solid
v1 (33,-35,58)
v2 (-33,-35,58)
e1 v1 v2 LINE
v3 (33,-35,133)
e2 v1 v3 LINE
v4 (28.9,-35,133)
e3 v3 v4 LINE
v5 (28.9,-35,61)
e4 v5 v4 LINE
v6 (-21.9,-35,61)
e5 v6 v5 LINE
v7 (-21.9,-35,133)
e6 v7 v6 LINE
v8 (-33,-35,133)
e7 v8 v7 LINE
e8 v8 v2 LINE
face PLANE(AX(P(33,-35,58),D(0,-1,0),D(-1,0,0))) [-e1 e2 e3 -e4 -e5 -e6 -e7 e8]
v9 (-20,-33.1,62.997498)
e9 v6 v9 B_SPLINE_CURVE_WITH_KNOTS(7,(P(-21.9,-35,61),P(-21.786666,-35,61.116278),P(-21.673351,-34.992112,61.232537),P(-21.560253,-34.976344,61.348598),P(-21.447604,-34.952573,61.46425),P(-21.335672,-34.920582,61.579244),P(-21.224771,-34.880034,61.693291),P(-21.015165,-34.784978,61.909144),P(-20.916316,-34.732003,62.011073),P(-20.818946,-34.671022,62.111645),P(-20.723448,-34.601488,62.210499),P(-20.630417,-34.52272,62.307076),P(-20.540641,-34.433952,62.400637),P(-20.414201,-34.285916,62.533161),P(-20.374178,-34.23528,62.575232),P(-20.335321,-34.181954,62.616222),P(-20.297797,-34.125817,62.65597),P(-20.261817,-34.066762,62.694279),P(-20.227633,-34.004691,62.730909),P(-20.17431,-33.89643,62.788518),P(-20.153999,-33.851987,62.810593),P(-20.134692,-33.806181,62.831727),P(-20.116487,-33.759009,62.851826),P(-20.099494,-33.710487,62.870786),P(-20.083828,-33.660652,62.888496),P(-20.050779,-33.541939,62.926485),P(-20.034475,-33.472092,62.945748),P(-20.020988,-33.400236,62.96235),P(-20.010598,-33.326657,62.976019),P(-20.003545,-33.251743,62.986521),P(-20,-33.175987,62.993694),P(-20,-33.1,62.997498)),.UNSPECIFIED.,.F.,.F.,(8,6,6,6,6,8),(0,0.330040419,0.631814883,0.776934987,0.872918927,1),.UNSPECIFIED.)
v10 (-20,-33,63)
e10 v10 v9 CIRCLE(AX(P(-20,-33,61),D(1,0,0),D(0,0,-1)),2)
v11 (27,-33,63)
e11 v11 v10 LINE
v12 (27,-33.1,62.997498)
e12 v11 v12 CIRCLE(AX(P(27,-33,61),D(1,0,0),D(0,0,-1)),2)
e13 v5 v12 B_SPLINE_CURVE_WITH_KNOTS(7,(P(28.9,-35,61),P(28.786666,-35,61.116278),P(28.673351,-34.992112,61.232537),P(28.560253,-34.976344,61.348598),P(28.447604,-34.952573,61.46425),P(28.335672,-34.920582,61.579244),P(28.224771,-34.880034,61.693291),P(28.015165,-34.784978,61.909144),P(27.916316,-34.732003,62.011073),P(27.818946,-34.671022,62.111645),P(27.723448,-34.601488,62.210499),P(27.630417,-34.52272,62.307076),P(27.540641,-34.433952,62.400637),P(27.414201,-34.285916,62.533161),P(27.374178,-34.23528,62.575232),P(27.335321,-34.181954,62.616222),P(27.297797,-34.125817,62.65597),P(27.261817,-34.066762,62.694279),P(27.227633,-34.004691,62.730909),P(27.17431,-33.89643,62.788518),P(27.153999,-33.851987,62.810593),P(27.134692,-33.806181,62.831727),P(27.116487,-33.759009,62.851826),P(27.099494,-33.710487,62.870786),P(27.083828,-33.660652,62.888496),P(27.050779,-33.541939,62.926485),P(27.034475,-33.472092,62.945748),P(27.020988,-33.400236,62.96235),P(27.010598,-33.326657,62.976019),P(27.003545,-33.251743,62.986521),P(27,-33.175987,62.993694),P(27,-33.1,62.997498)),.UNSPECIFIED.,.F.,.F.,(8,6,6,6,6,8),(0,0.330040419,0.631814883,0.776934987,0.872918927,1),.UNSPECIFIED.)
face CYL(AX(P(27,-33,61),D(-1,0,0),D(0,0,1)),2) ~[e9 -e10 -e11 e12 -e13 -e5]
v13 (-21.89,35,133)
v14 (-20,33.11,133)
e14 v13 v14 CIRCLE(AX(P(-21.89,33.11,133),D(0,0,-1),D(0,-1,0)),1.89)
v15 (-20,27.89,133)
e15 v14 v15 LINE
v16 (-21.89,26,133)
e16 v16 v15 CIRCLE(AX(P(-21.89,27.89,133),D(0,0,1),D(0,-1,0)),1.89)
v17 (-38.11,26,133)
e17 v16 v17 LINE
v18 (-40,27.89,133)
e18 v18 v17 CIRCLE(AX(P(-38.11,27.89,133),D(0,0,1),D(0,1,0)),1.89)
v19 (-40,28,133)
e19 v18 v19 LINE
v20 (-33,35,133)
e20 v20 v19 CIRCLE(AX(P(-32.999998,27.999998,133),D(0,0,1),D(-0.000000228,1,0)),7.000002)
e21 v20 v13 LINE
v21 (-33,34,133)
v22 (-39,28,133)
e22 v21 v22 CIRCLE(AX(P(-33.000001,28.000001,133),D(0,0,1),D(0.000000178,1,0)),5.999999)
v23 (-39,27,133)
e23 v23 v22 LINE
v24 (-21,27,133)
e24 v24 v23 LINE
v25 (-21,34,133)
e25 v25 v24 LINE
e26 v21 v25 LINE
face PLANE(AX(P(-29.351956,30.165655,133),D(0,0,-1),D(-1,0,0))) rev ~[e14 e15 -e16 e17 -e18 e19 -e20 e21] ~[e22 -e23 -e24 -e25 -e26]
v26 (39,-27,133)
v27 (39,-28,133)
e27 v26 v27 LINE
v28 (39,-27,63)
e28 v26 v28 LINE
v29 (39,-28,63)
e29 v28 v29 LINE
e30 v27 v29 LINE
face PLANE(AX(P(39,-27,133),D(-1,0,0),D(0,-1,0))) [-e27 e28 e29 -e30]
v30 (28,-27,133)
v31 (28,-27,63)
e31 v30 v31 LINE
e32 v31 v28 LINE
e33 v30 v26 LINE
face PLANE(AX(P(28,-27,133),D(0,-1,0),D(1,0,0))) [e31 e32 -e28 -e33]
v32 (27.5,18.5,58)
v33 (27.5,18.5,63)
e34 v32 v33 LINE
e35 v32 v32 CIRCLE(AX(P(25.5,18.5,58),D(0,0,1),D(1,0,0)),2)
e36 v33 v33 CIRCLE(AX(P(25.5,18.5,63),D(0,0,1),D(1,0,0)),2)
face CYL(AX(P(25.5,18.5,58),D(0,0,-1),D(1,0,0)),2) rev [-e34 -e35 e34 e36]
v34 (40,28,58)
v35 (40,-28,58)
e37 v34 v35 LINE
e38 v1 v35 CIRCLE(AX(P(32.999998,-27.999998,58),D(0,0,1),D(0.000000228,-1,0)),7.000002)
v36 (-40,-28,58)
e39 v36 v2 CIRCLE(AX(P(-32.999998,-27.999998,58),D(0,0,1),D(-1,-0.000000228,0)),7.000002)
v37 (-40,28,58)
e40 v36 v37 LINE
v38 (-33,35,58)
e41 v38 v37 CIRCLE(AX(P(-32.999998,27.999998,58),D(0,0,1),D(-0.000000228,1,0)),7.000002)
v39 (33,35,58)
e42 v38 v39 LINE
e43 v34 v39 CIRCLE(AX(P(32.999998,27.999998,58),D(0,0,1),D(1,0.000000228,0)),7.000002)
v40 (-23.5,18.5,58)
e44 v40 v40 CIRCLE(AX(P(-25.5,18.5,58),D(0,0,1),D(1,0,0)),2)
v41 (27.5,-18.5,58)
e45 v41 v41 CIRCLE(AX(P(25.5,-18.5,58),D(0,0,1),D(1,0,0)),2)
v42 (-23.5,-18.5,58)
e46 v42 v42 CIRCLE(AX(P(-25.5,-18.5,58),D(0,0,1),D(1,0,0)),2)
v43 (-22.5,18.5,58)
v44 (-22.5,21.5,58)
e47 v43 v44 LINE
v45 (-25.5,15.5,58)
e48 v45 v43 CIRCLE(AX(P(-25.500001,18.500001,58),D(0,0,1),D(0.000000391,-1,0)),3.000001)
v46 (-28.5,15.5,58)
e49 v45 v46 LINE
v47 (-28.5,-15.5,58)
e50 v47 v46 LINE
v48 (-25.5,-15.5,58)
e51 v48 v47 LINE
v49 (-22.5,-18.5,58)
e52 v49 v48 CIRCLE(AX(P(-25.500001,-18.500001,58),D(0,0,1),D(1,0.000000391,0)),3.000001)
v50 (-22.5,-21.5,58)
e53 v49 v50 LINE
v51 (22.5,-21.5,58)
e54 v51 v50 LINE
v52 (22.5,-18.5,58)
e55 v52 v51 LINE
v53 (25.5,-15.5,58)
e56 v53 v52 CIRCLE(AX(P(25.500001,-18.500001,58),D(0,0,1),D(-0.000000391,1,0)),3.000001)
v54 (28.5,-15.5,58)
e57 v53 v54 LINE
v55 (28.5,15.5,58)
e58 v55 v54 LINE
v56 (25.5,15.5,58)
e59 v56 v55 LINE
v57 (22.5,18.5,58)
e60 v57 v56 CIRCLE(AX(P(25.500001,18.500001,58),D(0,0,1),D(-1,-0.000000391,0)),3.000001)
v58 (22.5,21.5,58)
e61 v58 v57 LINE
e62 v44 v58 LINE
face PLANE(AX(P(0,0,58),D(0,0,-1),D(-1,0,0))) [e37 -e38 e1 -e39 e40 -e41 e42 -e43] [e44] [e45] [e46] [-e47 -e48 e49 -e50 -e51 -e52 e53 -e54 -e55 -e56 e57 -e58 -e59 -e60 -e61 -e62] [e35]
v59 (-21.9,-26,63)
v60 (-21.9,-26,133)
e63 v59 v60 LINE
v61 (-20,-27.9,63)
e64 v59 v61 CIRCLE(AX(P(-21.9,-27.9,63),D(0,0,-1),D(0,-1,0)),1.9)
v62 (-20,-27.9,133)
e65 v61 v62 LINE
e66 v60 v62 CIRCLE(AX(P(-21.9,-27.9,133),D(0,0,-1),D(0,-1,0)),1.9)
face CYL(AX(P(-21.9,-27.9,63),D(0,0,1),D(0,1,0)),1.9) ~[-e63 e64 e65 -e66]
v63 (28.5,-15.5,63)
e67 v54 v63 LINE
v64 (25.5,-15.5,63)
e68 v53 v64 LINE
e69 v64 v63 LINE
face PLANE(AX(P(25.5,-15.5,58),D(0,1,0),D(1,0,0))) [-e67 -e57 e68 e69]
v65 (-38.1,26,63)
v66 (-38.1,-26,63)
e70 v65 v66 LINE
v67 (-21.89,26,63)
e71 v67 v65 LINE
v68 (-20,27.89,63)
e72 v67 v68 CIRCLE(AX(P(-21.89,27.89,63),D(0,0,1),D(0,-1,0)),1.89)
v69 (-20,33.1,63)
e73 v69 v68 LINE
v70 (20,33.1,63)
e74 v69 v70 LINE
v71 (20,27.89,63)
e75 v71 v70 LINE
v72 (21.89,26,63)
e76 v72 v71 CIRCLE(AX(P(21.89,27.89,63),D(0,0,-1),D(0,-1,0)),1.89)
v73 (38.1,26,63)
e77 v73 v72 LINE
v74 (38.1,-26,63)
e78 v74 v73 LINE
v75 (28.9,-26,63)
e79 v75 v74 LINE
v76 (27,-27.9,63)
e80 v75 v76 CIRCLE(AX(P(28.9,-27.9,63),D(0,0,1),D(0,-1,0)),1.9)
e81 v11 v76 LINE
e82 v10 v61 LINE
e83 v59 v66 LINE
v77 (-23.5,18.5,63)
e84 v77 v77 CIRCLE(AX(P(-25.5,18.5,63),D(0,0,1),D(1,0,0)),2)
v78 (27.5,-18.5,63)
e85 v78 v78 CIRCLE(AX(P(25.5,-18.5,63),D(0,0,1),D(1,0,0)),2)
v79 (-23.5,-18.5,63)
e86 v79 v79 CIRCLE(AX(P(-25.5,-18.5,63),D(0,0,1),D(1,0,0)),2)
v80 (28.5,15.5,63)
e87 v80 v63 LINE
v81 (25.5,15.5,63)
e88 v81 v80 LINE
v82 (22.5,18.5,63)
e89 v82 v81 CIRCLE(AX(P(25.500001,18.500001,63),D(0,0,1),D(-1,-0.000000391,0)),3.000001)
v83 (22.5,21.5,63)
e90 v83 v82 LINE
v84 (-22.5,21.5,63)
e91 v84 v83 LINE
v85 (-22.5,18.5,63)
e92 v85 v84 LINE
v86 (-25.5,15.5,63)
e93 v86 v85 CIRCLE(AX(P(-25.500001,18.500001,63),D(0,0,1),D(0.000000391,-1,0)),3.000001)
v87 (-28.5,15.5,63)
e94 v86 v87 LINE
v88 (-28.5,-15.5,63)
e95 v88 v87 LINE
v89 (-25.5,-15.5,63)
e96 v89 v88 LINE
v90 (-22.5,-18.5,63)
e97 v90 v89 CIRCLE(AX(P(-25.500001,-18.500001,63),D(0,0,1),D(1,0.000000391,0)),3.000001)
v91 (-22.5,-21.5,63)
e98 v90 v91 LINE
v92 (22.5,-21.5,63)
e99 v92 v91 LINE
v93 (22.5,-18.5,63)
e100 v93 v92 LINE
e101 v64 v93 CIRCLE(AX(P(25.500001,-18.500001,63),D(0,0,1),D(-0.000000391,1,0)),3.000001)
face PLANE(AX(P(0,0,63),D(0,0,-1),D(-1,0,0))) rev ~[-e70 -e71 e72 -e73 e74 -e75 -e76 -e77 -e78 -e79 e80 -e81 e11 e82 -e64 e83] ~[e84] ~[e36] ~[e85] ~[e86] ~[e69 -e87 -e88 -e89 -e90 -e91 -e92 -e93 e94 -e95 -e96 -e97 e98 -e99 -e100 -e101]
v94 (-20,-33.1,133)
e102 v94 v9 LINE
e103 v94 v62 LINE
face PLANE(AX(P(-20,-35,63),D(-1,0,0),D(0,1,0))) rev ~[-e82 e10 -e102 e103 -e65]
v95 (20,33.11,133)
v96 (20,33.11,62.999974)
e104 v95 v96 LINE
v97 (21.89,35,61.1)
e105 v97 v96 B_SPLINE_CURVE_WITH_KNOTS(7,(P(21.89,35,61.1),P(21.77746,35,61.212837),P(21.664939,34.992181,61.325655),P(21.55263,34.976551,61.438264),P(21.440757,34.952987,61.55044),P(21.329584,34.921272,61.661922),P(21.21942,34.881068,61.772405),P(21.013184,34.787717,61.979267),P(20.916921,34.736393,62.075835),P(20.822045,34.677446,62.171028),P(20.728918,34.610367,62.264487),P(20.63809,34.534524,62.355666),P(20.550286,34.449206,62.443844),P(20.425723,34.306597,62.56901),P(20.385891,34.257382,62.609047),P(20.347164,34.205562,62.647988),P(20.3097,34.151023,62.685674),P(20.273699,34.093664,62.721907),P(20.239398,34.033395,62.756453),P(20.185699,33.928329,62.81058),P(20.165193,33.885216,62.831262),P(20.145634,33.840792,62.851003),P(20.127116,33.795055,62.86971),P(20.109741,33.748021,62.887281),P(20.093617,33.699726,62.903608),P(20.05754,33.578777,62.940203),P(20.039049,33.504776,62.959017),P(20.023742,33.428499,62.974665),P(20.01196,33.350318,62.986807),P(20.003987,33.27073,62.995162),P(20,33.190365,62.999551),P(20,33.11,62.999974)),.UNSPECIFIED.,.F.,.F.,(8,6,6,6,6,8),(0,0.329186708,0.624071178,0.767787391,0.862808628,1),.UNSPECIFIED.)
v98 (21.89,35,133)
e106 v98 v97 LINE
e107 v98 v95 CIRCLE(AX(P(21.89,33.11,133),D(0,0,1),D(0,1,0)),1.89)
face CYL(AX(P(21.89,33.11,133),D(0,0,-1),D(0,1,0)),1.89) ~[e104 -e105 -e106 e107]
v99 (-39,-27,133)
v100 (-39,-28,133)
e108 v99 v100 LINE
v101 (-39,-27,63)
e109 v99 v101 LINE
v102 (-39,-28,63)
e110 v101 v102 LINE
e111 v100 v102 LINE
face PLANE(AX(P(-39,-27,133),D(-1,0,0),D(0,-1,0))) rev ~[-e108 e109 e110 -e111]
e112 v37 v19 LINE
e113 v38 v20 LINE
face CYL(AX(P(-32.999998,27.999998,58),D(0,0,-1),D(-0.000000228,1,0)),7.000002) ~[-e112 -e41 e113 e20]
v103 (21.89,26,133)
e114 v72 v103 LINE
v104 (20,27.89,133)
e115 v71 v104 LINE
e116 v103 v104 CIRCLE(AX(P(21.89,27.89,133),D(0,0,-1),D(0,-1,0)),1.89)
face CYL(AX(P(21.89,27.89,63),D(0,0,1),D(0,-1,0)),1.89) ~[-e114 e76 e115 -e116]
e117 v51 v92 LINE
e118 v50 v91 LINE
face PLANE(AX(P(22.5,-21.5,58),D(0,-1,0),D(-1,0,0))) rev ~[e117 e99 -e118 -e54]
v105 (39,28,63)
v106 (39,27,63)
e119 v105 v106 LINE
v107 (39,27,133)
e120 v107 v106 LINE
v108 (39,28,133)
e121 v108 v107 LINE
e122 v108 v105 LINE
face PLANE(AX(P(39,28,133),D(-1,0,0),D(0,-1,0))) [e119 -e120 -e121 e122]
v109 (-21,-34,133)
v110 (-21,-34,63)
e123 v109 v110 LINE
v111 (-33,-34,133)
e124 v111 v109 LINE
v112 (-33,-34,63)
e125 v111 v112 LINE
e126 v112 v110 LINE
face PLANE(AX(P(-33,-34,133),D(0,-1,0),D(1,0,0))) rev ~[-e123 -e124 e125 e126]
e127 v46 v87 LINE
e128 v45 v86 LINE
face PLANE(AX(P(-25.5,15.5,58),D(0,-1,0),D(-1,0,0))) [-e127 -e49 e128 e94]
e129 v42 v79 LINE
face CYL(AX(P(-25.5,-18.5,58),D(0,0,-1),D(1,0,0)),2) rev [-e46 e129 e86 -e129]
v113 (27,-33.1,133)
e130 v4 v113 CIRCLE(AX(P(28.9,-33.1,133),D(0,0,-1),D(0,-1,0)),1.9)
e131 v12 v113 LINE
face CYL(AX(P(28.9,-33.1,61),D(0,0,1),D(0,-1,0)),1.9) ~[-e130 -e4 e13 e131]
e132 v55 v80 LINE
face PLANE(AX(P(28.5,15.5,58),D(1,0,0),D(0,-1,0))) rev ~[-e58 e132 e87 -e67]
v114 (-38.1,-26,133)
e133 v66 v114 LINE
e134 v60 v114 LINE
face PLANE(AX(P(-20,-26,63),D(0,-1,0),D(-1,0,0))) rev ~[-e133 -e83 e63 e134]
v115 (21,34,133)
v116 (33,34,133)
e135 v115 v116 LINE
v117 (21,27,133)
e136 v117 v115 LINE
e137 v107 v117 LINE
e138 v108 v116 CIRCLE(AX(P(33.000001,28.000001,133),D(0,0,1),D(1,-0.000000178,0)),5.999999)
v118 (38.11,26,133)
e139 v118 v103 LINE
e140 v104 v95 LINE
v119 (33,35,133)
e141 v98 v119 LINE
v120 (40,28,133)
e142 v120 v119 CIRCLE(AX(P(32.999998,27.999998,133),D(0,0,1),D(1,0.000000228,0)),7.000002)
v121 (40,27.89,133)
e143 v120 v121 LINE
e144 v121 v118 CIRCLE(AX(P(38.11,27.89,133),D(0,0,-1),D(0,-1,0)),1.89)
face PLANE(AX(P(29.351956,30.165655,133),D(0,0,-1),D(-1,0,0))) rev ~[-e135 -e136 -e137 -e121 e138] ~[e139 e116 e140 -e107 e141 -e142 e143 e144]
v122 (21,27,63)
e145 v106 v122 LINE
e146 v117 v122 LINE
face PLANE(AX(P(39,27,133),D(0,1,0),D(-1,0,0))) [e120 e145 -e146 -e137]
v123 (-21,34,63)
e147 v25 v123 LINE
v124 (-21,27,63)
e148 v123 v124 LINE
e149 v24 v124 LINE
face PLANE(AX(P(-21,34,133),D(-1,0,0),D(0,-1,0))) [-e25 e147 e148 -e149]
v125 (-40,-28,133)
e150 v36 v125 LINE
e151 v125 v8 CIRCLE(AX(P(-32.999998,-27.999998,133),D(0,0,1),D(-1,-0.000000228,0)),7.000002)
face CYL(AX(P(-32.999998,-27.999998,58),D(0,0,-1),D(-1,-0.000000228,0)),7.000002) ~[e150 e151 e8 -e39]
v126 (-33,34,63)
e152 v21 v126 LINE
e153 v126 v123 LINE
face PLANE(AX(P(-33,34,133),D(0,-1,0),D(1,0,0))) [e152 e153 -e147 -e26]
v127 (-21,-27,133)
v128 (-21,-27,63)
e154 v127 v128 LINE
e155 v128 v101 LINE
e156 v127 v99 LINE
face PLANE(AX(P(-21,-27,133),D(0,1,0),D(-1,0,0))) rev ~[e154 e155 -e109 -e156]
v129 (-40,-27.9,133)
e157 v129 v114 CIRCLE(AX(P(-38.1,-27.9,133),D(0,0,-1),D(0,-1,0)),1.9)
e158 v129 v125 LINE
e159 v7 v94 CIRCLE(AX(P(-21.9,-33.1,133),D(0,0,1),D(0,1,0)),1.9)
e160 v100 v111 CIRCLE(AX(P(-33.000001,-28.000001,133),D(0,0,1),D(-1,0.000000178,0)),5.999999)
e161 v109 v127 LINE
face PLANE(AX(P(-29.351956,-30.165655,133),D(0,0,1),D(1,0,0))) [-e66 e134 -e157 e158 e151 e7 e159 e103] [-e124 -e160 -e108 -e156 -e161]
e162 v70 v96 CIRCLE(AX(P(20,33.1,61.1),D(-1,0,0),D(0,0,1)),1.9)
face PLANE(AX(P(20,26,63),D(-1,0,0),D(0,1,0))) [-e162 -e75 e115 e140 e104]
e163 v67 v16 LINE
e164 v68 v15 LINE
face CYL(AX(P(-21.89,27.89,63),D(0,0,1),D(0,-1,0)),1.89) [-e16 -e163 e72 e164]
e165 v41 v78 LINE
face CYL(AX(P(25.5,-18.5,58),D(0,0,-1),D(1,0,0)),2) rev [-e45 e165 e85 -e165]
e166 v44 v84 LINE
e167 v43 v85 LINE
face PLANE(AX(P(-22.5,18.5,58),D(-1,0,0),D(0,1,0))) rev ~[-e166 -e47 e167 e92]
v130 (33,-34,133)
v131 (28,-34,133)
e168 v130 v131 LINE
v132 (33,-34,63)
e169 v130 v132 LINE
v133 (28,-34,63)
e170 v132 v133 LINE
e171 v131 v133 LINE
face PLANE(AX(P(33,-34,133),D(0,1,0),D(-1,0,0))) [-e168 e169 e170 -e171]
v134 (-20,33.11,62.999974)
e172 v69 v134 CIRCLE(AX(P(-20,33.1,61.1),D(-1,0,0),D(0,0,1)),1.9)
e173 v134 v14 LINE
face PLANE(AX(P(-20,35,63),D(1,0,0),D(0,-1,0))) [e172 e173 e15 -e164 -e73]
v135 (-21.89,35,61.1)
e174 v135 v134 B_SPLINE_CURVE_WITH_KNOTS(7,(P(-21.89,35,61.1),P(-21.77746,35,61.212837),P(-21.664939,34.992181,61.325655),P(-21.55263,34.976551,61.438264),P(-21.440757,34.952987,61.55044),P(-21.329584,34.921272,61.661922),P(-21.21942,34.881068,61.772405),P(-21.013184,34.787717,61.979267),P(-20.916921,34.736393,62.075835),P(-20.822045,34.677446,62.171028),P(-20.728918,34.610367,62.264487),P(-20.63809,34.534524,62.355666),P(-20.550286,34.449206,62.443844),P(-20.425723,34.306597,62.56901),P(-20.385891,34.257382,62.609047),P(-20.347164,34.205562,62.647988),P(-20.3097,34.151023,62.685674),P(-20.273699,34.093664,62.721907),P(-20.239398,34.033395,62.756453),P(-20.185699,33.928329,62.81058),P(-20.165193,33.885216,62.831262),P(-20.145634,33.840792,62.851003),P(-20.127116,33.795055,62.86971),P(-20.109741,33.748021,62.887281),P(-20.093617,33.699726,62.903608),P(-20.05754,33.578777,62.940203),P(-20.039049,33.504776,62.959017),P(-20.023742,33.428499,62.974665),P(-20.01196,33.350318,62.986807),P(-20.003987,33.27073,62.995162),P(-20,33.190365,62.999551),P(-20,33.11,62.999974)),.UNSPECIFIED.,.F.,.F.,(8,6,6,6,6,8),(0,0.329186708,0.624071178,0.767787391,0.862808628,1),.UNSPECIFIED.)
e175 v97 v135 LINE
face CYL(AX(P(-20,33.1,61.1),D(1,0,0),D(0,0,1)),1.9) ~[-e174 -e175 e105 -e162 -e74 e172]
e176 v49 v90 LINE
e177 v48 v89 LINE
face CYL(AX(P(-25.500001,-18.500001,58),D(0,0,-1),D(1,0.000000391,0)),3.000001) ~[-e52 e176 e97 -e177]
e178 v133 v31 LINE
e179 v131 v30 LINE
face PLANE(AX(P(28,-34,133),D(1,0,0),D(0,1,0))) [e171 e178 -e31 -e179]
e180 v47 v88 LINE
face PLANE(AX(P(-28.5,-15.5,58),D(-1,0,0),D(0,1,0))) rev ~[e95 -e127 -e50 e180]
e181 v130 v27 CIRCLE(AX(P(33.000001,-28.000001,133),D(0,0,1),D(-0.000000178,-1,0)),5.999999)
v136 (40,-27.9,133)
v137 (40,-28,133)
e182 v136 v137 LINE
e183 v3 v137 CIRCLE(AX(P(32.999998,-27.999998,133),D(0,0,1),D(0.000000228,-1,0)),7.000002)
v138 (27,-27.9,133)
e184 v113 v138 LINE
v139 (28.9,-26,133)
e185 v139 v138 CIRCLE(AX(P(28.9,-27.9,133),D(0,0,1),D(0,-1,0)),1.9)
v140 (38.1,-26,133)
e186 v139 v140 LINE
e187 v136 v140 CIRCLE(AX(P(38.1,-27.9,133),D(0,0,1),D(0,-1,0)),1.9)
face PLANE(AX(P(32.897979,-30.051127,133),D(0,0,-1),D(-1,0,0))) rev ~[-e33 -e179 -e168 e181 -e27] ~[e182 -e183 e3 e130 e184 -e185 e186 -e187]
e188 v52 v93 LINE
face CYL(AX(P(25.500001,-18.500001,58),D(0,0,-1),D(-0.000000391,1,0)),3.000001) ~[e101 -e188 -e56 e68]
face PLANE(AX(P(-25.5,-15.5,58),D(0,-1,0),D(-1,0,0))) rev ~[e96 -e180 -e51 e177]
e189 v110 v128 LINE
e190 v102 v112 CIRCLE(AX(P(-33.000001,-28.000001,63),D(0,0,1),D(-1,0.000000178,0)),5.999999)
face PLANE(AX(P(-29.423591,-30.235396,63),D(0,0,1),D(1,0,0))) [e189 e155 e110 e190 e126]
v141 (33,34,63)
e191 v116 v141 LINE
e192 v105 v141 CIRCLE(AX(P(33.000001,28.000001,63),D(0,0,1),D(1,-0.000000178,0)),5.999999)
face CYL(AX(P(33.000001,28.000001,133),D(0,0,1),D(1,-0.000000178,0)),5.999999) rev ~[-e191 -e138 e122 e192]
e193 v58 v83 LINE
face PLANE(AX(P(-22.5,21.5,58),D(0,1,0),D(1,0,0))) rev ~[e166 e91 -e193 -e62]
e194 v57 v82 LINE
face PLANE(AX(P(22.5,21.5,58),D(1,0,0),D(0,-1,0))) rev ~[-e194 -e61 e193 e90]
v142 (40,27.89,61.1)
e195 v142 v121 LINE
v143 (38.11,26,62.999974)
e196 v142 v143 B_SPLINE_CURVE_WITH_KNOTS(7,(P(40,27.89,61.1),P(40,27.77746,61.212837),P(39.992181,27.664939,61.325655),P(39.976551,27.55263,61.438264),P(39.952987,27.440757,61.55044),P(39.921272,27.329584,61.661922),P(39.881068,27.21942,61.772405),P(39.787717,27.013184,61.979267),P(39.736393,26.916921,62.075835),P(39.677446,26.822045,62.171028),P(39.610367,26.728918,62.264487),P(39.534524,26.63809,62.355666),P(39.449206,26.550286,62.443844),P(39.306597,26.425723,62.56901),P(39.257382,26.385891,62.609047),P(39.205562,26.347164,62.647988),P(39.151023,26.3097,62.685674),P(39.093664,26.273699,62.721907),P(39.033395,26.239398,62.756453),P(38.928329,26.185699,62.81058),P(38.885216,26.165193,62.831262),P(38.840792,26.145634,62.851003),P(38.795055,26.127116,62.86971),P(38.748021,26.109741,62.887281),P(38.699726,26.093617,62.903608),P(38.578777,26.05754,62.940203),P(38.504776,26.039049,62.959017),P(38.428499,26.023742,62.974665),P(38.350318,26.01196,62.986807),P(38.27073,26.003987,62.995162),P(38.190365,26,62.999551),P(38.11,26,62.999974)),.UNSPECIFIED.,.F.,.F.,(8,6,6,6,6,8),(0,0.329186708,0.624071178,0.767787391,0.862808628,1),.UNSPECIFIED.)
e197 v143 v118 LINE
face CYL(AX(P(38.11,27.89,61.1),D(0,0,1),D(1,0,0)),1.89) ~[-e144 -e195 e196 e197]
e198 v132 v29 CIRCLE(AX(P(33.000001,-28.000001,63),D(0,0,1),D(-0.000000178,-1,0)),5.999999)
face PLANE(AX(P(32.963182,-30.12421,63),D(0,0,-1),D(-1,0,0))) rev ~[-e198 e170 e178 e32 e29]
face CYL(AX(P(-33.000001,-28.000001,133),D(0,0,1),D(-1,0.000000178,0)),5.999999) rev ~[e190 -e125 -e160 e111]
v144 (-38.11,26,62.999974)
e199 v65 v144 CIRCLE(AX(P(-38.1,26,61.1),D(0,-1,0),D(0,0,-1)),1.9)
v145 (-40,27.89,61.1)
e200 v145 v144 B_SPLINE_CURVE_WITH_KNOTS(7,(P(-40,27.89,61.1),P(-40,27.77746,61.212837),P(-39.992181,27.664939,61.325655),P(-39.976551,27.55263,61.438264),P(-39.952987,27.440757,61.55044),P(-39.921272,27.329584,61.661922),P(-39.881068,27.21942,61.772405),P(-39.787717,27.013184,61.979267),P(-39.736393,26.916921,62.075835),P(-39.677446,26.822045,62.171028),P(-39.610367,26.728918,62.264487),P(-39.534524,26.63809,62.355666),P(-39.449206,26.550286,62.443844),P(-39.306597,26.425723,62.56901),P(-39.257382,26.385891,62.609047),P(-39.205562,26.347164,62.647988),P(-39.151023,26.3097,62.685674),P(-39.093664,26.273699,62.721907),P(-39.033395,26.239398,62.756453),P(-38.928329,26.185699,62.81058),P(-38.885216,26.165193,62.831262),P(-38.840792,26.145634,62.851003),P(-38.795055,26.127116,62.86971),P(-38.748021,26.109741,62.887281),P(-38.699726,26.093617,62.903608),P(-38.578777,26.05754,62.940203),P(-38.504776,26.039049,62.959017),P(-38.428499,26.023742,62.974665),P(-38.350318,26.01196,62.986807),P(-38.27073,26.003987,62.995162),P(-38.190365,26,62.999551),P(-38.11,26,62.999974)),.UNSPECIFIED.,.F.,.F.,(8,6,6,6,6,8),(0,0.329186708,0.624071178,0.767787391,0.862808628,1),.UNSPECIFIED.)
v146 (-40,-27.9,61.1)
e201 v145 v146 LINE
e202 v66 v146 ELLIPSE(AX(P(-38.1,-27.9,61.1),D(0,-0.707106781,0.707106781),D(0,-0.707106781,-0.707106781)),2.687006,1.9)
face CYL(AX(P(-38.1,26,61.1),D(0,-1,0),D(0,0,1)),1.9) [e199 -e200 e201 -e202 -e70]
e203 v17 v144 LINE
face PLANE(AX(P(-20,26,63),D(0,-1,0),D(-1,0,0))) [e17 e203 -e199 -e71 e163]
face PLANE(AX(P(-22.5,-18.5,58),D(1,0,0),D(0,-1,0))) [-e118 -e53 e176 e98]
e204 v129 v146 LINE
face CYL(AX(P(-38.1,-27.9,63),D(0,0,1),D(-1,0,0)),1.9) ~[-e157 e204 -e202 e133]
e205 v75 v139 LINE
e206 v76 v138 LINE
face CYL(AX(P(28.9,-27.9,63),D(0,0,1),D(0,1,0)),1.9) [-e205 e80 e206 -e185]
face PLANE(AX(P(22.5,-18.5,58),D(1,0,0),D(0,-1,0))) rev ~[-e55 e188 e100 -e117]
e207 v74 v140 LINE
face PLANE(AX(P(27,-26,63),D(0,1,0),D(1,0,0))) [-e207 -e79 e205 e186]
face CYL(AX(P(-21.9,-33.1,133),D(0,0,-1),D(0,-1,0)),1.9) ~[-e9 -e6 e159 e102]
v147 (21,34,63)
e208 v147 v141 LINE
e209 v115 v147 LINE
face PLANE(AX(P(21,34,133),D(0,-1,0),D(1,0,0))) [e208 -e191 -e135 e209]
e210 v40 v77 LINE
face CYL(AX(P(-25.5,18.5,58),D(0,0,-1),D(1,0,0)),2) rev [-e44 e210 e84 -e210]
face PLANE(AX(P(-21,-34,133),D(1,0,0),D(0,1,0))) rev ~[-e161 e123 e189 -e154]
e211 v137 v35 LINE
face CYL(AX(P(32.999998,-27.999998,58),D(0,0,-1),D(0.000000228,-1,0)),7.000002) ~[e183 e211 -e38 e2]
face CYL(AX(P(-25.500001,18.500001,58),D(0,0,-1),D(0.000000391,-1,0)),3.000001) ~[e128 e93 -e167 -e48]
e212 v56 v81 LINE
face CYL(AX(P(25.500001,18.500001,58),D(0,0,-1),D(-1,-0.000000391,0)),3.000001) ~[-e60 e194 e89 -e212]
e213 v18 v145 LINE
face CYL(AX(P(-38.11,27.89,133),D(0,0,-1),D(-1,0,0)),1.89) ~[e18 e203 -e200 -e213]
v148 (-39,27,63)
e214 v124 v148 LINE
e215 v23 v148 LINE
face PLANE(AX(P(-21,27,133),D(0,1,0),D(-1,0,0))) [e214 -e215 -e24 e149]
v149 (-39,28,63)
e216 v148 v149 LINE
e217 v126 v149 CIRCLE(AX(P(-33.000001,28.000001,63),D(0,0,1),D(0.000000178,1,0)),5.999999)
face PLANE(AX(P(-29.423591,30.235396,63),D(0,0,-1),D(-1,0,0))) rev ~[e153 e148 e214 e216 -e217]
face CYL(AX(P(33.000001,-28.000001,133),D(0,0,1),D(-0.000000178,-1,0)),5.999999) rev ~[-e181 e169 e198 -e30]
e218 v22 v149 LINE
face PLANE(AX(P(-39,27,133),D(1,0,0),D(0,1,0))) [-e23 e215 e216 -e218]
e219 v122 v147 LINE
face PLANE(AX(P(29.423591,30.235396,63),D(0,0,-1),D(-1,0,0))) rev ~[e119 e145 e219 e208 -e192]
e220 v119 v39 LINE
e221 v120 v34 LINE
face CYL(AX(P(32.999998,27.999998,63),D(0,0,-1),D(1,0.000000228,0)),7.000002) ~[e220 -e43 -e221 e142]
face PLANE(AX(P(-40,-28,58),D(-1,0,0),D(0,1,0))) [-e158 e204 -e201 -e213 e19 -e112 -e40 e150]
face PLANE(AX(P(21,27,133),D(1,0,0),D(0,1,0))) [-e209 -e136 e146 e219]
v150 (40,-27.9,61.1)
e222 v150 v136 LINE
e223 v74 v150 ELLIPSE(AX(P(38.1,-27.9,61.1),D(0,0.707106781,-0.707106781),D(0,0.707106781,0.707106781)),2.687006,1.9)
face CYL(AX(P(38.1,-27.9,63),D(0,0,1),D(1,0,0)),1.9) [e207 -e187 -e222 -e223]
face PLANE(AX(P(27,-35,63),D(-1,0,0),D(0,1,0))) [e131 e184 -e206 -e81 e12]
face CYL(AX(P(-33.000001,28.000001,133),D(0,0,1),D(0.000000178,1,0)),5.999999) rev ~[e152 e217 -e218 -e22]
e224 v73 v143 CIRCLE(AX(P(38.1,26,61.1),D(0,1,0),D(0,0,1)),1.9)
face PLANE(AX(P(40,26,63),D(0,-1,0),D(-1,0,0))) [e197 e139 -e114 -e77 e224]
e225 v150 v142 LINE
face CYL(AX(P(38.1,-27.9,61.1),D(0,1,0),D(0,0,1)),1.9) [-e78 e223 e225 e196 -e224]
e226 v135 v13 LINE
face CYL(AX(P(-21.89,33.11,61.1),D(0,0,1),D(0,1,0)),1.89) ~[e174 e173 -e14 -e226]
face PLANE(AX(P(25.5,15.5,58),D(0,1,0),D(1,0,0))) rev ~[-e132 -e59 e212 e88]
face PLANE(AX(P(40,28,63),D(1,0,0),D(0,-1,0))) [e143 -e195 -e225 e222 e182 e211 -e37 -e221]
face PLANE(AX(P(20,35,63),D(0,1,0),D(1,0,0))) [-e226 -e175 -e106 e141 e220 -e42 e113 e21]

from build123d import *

# Parameters (mm, degrees)
SKETCH005_R     = 2
PAD003_DEPTH    = 5
PAD004_DEPTH    = 70
POCKET001_DEPTH = 70
FILLET017_R     = 2
FILLET018_R     = 1.9
FILLET019_R     = 1.9
FILLET020_R     = 1.9
FILLET021_R     = 1.89


with BuildPart() as part:
    # Sketch005 (on DatumPlane) → Pad003 (new body)
    with BuildSketch(Plane.XY.offset(58)):
        with BuildLine():
            Line((-33, 35), (33, 35))
            ThreePointArc((40, 28), (37.949747, 32.949747), (33, 35))
            Line((40, 28), (40, -28))
            ThreePointArc((33, -35), (37.949747, -32.949747), (40, -28))
            Line((33, -35), (-33, -35))
            ThreePointArc((-40, -28), (-37.949747, -32.949747), (-33, -35))
            Line((-40, -28), (-40, 28))
            ThreePointArc((-33, 35), (-37.949747, 32.949747), (-40, 28))
        make_face()
        with Locations((-25.5, 18.5)):
            Circle(SKETCH005_R, mode=Mode.SUBTRACT)
        with Locations((-25.5, -18.5)):
            Circle(SKETCH005_R, mode=Mode.SUBTRACT)
        with Locations((25.5, -18.5)):
            Circle(SKETCH005_R, mode=Mode.SUBTRACT)
        with Locations((25.5, 18.5)):
            Circle(SKETCH005_R, mode=Mode.SUBTRACT)
        with BuildLine():
            Line((28.5, 15.5), (28.5, -15.5))
            Line((25.5, -15.5), (28.5, -15.5))
            ThreePointArc((25.5, -15.5), (23.37868, -16.37868), (22.5, -18.5))
            Line((22.5, -18.5), (22.5, -21.5))
            Line((22.5, -21.5), (-22.5, -21.5))
            Line((-22.5, -18.5), (-22.5, -21.5))
            ThreePointArc((-22.5, -18.5), (-23.37868, -16.37868), (-25.5, -15.5))
            Line((-25.5, -15.5), (-28.5, -15.5))
            Line((-28.5, -15.5), (-28.5, 15.5))
            Line((-25.5, 15.5), (-28.5, 15.5))
            ThreePointArc((-25.5, 15.5), (-23.37868, 16.37868), (-22.5, 18.5))
            Line((-22.5, 18.5), (-22.5, 21.5))
            Line((-22.5, 21.5), (22.5, 21.5))
            Line((22.5, 21.5), (22.5, 18.5))
            ThreePointArc((22.5, 18.5), (23.37868, 16.37868), (25.5, 15.5))
            Line((25.5, 15.5), (28.5, 15.5))
        make_face(mode=Mode.SUBTRACT)
    extrude(amount=PAD003_DEPTH)

    # Sketch006 (on DatumPlane) → Pad004 (join)
    with BuildSketch(Plane.XY.offset(63)):
        with BuildLine():
            Line((20, 35), (33, 35))
            ThreePointArc((40, 28), (37.949747, 32.949747), (33, 35))
            Line((40, 28), (40, 26))
            Line((40, 26), (20, 26))
            Line((20, 26), (20, 35))
        make_face()
        with BuildLine():
            Line((-20, -26), (-40, -26))
            Line((-40, -26), (-40, -28))
            ThreePointArc((-40, -28), (-37.949747, -32.949747), (-33, -35))
            Line((-33, -35), (-20, -35))
            Line((-20, -35), (-20, -26))
        make_face()
        with BuildLine():
            Line((-20, 26), (-40, 26))
            Line((-40, 26), (-40, 28))
            ThreePointArc((-33, 35), (-37.949747, 32.949747), (-40, 28))
            Line((-33, 35), (-20, 35))
            Line((-20, 35), (-20, 26))
        make_face()
        with BuildLine():
            Line((27, -26), (40, -26))
            Line((40, -26), (40, -28))
            ThreePointArc((33, -35), (37.949747, -32.949747), (40, -28))
            Line((33, -35), (27, -35))
            Line((27, -35), (27, -26))
        make_face()
    extrude(amount=PAD004_DEPTH)

    # Sketch007 (on DatumPlane) → Pocket001 (cut)
    with BuildSketch(Plane.XY.offset(133)):
        with BuildLine():
            Line((21, 34), (33, 34))
            ThreePointArc((39, 28), (37.242641, 32.242641), (33, 34))
            Line((39, 28), (39, 27))
            Line((39, 27), (21, 27))
            Line((21, 27), (21, 34))
        make_face()
        with BuildLine():
            Line((-21, -27), (-39, -27))
            Line((-39, -27), (-39, -28))
            ThreePointArc((-39, -28), (-37.242641, -32.242641), (-33, -34))
            Line((-33, -34), (-21, -34))
            Line((-21, -34), (-21, -27))
        make_face()
        with BuildLine():
            Line((-21, 27), (-39, 27))
            Line((-39, 27), (-39, 28))
            ThreePointArc((-33, 34), (-37.242641, 32.242641), (-39, 28))
            Line((-33, 34), (-21, 34))
            Line((-21, 34), (-21, 27))
        make_face()
        with BuildLine():
            Line((28, -27), (39, -27))
            Line((39, -27), (39, -28))
            ThreePointArc((33, -34), (37.242641, -32.242641), (39, -28))
            Line((33, -34), (28, -34))
            Line((28, -34), (28, -27))
        make_face()
    extrude(amount=-POCKET001_DEPTH, mode=Mode.SUBTRACT)

    # Fillet017
    fillet017_edges = [part.edges().sort_by_distance(p)[0] for p in [
        (3.5, -35, 63),
    ]]
    fillet(fillet017_edges, radius=FILLET017_R)

    # Fillet018
    fillet018_edges = [part.edges().sort_by_distance(p)[0] for p in [
        (-20, -35, 98),
        (-20, -26, 98),
        (27, -35, 98),
        (27, -26, 98),
        (-40, -26, 98),
        (40, -26, 98),
    ]]
    fillet(fillet018_edges, radius=FILLET018_R)

    # Fillet019
    fillet019_edges = [part.edges().sort_by_distance(p)[0] for p in [
        (40, 0, 63),
        (-40, 0, 63),
    ]]
    fillet(fillet019_edges, radius=FILLET019_R)

    # Fillet020
    fillet020_edges = [part.edges().sort_by_distance(p)[0] for p in [
        (0, 35, 63),
    ]]
    fillet(fillet020_edges, radius=FILLET020_R)

    # Fillet021
    fillet021_edges = [part.edges().sort_by_distance(p)[0] for p in [
        (-40, 26, 98),
        (-20, 35, 98),
        (20, 35, 98),
        (20, 26, 98),
        (-20, 26, 98),
        (40, 26, 98),
    ]]
    fillet(fillet021_edges, radius=FILLET021_R)


solid = part.part
